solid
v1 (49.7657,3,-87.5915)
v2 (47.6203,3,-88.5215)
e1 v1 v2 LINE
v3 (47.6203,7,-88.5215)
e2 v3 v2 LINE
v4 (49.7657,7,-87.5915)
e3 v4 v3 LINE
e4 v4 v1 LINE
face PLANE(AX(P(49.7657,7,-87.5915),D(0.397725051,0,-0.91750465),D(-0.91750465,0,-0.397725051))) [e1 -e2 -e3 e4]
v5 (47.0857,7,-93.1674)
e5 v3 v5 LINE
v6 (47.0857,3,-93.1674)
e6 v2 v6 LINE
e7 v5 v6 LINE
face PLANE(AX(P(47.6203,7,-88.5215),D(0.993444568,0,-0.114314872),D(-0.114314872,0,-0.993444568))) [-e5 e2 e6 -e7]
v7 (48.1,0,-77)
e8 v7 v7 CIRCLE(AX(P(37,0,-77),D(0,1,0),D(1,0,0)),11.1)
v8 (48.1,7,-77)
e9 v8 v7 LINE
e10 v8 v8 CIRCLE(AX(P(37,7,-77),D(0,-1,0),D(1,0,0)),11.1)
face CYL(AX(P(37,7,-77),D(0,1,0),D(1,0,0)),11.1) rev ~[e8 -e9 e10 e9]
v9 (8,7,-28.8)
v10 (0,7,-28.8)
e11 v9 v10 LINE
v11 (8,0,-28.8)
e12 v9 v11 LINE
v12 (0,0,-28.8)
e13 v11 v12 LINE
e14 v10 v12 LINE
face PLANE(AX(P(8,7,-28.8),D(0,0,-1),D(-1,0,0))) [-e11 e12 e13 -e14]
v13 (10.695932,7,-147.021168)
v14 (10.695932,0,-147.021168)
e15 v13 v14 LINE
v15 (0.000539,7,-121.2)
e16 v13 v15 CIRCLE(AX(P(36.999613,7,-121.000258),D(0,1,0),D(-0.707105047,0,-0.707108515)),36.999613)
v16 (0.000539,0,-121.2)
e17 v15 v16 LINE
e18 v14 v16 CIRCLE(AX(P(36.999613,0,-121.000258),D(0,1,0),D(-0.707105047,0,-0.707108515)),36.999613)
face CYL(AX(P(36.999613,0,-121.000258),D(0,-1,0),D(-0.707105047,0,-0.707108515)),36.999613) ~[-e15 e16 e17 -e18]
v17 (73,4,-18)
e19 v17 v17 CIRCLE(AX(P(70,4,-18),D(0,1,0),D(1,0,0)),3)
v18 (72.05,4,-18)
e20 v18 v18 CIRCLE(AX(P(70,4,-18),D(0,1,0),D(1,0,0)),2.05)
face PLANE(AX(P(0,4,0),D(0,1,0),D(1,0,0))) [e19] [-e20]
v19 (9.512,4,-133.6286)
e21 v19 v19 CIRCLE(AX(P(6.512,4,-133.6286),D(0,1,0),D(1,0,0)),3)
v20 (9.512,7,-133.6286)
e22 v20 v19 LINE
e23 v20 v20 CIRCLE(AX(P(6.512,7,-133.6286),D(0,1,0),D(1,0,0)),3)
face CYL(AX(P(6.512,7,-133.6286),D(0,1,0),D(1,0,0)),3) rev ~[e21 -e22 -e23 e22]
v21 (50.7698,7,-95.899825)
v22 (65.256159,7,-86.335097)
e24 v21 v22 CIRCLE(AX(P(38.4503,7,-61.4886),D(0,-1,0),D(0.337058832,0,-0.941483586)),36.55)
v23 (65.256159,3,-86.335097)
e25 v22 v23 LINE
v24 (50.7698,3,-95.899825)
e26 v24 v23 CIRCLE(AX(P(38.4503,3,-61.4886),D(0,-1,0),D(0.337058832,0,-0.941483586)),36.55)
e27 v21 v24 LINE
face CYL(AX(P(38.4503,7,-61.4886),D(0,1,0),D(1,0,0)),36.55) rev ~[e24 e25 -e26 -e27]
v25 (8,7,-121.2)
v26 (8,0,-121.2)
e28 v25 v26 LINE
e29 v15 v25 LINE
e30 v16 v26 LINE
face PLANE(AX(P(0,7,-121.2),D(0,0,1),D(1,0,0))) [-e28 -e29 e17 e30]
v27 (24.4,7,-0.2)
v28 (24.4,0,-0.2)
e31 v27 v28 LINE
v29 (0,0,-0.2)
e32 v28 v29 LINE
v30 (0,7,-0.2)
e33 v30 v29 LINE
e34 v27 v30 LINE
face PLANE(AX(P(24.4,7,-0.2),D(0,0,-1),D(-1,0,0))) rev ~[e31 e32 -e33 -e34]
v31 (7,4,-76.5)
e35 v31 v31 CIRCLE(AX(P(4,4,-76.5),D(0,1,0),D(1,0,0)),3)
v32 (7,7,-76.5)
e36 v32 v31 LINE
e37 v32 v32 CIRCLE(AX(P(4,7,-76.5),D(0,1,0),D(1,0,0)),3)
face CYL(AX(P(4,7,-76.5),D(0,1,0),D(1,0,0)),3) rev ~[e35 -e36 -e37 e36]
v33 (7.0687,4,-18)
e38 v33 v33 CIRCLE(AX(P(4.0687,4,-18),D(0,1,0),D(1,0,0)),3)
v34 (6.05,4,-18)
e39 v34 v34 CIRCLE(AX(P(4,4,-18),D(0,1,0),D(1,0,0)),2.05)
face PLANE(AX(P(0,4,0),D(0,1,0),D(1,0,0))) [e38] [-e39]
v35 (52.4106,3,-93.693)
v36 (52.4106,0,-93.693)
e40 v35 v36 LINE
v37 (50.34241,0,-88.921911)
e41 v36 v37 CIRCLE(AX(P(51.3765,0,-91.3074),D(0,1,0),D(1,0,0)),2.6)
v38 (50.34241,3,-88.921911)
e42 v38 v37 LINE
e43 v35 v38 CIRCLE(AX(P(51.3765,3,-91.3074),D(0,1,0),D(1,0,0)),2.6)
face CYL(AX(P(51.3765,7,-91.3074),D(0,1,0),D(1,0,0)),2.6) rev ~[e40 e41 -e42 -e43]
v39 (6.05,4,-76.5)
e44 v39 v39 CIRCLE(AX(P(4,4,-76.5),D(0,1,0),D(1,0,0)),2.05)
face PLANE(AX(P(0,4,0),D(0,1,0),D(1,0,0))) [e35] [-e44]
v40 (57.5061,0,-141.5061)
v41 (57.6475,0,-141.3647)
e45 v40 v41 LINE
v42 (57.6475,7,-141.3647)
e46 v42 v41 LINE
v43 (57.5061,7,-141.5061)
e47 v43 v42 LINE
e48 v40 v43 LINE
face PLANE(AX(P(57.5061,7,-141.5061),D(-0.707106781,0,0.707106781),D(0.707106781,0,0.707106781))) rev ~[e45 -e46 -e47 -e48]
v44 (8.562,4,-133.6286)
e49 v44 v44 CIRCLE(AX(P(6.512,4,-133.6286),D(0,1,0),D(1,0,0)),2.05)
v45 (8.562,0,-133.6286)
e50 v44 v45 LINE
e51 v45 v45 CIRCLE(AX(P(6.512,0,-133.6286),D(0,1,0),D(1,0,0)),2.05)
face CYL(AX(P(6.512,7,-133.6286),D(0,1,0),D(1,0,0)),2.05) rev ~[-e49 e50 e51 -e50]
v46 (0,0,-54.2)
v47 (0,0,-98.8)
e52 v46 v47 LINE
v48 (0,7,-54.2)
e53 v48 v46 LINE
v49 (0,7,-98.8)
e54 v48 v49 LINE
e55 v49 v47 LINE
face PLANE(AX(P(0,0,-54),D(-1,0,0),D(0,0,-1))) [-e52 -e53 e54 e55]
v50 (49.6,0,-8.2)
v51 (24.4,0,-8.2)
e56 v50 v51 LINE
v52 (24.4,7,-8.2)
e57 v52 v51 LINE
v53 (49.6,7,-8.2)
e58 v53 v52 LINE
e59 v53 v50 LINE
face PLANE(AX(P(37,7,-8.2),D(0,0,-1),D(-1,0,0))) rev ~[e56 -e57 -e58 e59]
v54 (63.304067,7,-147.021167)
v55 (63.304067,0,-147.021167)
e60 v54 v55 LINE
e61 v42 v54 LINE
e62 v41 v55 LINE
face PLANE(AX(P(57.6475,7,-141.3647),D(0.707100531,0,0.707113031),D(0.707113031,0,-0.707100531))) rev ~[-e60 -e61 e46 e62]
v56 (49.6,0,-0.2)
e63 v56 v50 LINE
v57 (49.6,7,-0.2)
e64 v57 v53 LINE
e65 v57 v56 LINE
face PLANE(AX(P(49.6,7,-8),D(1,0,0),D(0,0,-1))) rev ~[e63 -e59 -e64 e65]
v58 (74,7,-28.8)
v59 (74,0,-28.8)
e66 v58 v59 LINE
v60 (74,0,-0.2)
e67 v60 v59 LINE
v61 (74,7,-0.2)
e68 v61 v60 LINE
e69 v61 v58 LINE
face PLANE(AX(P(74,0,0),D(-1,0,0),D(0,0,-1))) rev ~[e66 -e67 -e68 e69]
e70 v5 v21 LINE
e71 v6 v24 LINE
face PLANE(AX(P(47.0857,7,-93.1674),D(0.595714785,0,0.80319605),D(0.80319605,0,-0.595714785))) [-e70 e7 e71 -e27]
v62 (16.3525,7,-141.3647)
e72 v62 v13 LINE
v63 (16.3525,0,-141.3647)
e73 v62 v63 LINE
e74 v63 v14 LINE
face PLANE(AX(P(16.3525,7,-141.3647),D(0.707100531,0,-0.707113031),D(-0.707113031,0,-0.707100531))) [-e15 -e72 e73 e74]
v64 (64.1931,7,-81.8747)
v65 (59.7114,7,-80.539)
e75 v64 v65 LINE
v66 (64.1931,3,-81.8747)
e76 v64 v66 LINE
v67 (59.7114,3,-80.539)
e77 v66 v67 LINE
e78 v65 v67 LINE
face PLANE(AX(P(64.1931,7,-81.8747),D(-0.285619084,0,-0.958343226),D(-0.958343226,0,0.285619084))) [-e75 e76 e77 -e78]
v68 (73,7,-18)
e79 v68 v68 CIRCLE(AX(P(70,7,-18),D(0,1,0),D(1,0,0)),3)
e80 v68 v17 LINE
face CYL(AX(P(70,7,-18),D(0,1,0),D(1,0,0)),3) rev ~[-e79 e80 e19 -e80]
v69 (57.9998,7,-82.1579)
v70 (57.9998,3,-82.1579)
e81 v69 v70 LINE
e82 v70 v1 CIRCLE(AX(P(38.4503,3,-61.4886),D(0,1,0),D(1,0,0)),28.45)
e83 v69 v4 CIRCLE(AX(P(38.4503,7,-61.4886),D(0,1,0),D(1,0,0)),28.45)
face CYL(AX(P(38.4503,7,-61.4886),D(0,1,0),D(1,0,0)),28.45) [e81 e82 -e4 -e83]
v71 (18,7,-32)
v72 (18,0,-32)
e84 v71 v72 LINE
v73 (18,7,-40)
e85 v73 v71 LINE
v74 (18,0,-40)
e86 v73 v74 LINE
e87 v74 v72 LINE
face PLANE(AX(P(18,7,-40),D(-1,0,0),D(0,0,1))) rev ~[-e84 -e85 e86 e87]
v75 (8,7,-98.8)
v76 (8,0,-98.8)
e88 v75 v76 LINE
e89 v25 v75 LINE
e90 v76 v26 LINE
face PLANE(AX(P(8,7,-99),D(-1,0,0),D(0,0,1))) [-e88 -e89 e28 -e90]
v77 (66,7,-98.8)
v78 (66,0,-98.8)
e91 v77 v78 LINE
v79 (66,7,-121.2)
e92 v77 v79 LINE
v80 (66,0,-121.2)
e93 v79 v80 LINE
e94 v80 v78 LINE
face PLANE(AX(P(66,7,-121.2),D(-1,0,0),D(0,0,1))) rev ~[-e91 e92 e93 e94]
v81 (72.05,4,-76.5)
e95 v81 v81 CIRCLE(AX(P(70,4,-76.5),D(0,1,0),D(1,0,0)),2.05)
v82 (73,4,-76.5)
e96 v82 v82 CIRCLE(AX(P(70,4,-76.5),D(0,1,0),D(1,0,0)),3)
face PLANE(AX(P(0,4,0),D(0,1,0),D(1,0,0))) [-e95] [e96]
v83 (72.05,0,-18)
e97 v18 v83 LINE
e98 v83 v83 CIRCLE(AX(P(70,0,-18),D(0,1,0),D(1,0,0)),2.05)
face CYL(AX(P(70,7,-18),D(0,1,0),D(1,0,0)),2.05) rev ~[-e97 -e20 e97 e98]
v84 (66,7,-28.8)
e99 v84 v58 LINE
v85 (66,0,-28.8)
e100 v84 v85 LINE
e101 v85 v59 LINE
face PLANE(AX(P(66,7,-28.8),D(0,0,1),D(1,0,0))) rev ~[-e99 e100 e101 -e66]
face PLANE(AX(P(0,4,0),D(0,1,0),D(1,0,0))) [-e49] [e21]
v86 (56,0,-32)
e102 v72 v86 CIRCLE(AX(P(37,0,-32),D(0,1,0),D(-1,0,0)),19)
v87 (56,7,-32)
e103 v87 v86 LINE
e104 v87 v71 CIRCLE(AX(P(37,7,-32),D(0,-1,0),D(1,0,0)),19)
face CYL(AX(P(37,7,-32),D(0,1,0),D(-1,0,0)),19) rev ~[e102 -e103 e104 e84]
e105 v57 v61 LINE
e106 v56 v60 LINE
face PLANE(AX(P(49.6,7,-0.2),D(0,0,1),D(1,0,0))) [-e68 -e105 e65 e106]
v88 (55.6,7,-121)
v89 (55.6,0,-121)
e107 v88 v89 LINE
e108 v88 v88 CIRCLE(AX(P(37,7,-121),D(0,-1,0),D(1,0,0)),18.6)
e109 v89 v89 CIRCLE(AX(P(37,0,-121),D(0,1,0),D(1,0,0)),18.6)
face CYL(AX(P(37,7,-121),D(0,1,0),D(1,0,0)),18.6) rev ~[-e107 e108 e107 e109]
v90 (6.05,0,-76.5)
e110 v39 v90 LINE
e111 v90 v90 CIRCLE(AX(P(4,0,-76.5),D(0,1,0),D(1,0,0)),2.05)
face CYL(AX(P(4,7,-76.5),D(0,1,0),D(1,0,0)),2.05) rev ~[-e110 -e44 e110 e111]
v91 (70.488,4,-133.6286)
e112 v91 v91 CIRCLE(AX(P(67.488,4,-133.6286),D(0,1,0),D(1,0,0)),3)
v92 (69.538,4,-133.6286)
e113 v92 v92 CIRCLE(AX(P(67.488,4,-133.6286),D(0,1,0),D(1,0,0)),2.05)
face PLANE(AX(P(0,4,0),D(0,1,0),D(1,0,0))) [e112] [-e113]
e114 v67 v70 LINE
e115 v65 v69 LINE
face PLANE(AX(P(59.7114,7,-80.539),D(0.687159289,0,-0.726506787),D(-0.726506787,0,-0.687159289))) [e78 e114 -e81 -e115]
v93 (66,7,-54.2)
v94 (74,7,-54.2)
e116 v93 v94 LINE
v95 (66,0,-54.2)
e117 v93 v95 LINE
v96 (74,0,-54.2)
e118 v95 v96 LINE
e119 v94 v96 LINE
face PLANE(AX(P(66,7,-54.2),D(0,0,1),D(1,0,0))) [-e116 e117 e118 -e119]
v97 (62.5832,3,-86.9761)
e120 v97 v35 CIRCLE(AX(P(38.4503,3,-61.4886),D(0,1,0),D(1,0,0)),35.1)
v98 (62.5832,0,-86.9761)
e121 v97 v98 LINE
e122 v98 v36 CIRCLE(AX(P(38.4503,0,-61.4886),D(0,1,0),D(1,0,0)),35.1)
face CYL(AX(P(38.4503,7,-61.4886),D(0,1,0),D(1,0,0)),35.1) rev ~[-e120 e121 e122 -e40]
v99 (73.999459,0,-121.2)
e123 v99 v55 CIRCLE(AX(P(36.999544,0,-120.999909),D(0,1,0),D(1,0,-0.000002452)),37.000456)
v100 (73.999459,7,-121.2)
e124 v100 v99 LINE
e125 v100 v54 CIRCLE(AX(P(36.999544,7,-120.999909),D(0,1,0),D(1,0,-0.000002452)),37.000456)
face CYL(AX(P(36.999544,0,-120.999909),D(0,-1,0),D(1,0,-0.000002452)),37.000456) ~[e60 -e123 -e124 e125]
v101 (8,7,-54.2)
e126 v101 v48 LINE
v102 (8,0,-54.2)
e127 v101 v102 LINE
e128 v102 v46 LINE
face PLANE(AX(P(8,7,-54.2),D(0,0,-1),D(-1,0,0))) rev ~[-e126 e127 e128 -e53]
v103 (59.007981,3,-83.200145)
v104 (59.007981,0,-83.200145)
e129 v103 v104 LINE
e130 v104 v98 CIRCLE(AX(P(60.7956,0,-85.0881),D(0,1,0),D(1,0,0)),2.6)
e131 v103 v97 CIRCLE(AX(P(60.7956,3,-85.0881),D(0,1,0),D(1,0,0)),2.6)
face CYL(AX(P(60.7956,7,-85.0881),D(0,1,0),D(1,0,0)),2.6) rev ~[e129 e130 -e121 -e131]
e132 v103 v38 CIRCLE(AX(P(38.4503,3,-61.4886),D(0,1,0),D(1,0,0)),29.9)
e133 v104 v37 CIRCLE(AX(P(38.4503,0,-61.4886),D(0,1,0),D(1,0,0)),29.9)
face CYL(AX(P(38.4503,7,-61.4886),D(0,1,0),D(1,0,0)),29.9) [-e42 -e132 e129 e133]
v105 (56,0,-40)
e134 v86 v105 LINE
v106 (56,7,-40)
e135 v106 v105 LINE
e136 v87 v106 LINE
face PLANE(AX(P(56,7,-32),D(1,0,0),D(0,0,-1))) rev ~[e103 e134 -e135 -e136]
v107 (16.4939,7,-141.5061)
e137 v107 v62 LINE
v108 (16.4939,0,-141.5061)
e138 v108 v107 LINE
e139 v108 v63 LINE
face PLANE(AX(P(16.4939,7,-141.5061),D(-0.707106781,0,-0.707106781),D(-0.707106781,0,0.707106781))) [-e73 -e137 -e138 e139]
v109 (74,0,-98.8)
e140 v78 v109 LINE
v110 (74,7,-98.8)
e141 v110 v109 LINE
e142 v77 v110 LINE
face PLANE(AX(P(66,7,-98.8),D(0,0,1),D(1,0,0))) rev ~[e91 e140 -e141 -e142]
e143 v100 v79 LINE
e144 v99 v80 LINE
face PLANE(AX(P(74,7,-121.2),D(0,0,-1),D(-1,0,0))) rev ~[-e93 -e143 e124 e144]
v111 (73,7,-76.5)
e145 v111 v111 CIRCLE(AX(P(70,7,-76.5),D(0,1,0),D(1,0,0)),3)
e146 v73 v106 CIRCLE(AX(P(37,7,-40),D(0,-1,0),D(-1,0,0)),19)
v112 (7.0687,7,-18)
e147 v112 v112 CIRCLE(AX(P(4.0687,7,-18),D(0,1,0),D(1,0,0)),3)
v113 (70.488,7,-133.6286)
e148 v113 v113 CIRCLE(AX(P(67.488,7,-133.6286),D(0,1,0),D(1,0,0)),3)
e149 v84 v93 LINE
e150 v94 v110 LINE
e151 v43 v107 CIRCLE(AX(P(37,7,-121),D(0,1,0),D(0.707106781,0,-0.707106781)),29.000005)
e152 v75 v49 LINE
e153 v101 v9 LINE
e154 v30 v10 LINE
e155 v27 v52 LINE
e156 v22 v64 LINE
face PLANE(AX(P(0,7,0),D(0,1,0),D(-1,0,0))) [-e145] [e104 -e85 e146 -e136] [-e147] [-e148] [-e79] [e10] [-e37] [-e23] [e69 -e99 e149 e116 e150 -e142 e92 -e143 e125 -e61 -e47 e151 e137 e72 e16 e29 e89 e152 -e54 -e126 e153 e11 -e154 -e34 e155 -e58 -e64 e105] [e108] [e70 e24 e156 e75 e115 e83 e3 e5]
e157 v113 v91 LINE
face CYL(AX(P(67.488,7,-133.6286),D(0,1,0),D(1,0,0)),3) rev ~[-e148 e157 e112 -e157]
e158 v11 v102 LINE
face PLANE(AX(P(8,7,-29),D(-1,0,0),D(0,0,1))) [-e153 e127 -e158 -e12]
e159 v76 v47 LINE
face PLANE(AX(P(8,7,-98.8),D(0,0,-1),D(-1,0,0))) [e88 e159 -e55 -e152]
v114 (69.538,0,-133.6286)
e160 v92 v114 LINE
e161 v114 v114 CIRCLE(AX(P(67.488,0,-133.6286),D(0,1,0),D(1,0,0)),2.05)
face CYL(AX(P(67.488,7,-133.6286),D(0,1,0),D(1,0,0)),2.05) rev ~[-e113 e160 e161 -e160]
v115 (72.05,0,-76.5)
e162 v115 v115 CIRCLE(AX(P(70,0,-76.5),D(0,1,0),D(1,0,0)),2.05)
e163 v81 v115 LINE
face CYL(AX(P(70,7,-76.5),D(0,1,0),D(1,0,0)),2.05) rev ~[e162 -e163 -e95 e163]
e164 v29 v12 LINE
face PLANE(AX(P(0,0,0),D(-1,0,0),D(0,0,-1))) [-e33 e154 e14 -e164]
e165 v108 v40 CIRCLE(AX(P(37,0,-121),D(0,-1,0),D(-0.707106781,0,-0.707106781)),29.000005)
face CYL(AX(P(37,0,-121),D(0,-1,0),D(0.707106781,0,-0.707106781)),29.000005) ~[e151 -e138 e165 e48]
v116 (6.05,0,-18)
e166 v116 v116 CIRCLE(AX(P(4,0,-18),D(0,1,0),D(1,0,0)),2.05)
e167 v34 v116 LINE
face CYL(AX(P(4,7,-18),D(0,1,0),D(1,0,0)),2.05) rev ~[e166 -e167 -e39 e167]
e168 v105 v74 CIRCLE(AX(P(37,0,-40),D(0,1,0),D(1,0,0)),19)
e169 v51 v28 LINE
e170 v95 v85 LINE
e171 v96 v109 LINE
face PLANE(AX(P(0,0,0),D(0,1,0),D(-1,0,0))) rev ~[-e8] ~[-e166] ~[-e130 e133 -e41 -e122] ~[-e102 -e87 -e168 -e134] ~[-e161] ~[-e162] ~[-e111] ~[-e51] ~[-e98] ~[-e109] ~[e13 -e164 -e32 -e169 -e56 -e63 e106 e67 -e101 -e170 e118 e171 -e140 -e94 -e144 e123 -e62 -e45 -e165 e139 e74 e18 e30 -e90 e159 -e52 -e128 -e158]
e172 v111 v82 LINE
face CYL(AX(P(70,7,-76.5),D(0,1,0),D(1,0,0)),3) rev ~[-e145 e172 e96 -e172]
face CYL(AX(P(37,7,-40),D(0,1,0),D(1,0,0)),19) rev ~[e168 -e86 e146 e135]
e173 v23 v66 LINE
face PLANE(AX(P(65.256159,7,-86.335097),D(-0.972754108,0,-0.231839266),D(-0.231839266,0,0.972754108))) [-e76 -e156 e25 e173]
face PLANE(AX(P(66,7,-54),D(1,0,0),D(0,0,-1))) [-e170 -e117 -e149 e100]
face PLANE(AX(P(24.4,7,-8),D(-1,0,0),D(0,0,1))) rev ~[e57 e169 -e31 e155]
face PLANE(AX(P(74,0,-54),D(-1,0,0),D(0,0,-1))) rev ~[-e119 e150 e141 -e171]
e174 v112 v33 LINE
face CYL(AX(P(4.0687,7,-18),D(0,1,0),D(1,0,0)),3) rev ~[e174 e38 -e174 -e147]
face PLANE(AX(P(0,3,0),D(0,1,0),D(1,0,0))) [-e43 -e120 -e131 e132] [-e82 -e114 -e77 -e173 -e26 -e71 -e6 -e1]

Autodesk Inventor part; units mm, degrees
ref_plane "YZ Plane" through (0, 0, 0) normal (1, 0, 0) x (0, 1, 0)
ref_plane "XZ Plane" through (0, 0, 0) normal (0, 1, 0) x (-1, 0, 0)
ref_plane "XY Plane" through (0, 0, 0) normal (0, 0, 1) x (1, 0, 0)
sketch "Boceto1" plane through (0, 0, 0) normal (0, 1, 0) x (-1, 0, 0)
  line L0 (0, 0) -> (-24.6, 0)
  line L1 (0, 0) -> (0, -29)
  line L2 (0, -29) -> (-8, -29)
  line L3 (-8, -29) -> (-8, -54)
  line L4 (-8, -54) -> (0, -54)
  line L5 (0, -54) -> (0, -99)
  line L6 (0, -99) -> (-8, -99)
  line L7 (-8, -99) -> (-8, -121)
  line L8 (-8, -121) -> (0, -121)
  line L9 (-24.6, 0) -> (-24.6, -8)
  line L10 (-24.6, -8) -> (-49.4, -8)
  line L11 (-37, 21.7087) -> (-37, -150)
  arc A0 (-57.5061, -141.5061) -> (-16.4939, -141.5061) centre (-37, -121) ccw
  line L12 (-37, -121) -> (-16.4939, -141.5061)
  line L13 (-16.4939, -141.5061) -> (-10.837, -147.163)
  line L14 (-74, 0) -> (-49.4, 0)
  line L15 (-74, 0) -> (-74, -29)
  line L16 (-74, -29) -> (-66, -29)
  line L17 (-66, -29) -> (-66, -54)
  line L18 (-66, -54) -> (-74, -54)
  line L19 (-74, -54) -> (-74, -99)
  line L20 (-74, -99) -> (-66, -99)
  line L21 (-66, -99) -> (-66, -121)
  line L22 (-66, -121) -> (-74, -121)
  line L23 (-49.4, 0) -> (-49.4, -8)
  line L24 (-37, -121) -> (-57.5061, -141.5061)
  line L25 (-57.5061, -141.5061) -> (-63.163, -147.163)
  arc A1 (-74, -121) -> (-63.163, -147.163) centre (-37, -121) ccw
  arc A2 (-10.837, -147.163) -> (0, -121) centre (-37, -121) ccw
  dimension "d139" = 24.6
  dimension "d140" = 29
  dimension "d141" = 25
  dimension "d142" = 8
  dimension "d143" = 45
  dimension "d144" = 22
  dimension "d145" = 8
  dimension "d146" = 24.8
  dimension "d148" = 45
extrude "Extrusión1" add sketch "Boceto1" along normal blind 7
sketch "Boceto2" plane through (0, 7, 0) normal (0, 1, 0) x (1, 0, 0)
  arc A0 (18, 32) -> (56, 32) centre (37, 32) ccw
  arc A1 (56, 40) -> (18, 40) centre (37, 40) ccw
  line L0 (18, 40) -> (18, 32)
  line L1 (56, 32) -> (56, 40)
  circle A2 centre (37, 77) radius 11.1
  circle A3 centre (37, 121) radius 18.6
  line L2 (37, -3.2334) -> (37, 158.5758)
  point P0 (0, 0)
  dimension "d18" = 19
  dimension "d23" = 22.2
  dimension "d25" = 37.2
  dimension "d149" = 44
  dimension "d150" = 37
  dimension "d151" = 8
extrude "Extrusión2" cut sketch "Boceto2" against normal blind 7
sketch "Boceto3" plane through (0, 7, 0) normal (0, 1, 0) x (1, 0, 0)
  line L0 (37, -12.6618) -> (37, 178.5268)
  circle A0 centre (4, 18) radius 2.05
  circle A1 centre (4, 76.5) radius 2.05
  circle A2 centre (37, 121) radius 18.6 projected
  circle A3 centre (37, 121) radius 33
  circle A4 centre (6.512, 133.6286) radius 2.05
  line L1 (8, 29) -> (0, 29) projected
  line L2 (0, 29) -> (0, 0) projected
  line L3 (0, 99) -> (0, 54) projected
  line L4 (8, 99) -> (0, 99) projected
  line L5 (6.512, 133.6286) -> (37, 121)
  line L6 (24.8695, 121) -> (50.3921, 121)
  circle A5 centre (70, 18) radius 2.05
  circle A6 centre (70, 76.5) radius 2.05
  circle A7 centre (67.488, 133.6286) radius 2.05
  line L7 (67.488, 133.6286) -> (37, 121)
  dimension "d157" = 66
  dimension "d152" = 11
  dimension "d153" = 4
  dimension "d154" = 4.1
  dimension "d155" = 4
  dimension "d156" = 22.5
  dimension "d158" = 22.5
extrude "Extrusión3" cut sketch "Boceto3" against normal through all contours A4 A3 | A3 L5 A4 | A3 A4 L5 | A7 L7 A3 | A3 A7 | L7 A7 A3 | A0 | A1 | A5 | A6
sketch "Boceto12" plane through (0, 7, 0) normal (0, 1, 0) x (1, 0, 0)
  circle A0 centre (37, 77) radius 11.1 projected
  circle A1 centre (37, 121) radius 18.6 projected
  arc A2 (60.7956, 85.0881) -> (51.3765, 91.3074) centre (38.4503, 61.4886) ccw
  line L0 (38.4503, 61.4886) -> (60.7956, 85.0881)
  line L1 (38.4503, 61.4886) -> (51.3765, 91.3074)
  line L2 (51.3765, 91.3074) -> (52.4106, 93.693)
  line L3 (60.7956, 85.0881) -> (62.5832, 86.9761)
  line L4 (38.4503, 61.4886) -> (51.3765, 91.3074)
  line L5 (50.3411, 88.9225) -> (50.3424, 88.9219)
  line L6 (59.009, 83.1992) -> (59.008, 83.2002)
  circle A3 centre (51.3765, 91.3074) radius 2.6
  circle A4 centre (60.7956, 85.0881) radius 2.6
  circle A5 centre (38.4503, 61.4886) radius 29.9
  circle A6 centre (38.4503, 61.4886) radius 35.1
  point P0 (0, 0)
  point P1 (59.009, 83.1992)
  dimension "d101" = 0
  dimension "d102" = 20
  dimension "d91" = 65
  dimension "d173" = 5.2
  dimension "d174" = 5.2
extrude "Extrusión10" cut sketch "Boceto12" against normal through all contours A3 L2 L1 | L1 A2 A3 | A3 A2 A4 A5 | L2 A3 A2 | A6 A4 A2 A3 | A4 A2 L0 | L0 L3 A4 | L3 A2 A4
sketch "Boceto13" plane through (0, 7, 0) normal (0, 1, 0) x (1, 0, 0)
  line L0 (47.0857, 93.1674) -> (50.8419, 95.9533)
  line L1 (50.8419, 95.9533) -> (52.9888, 95.0227)
  line L2 (49.7657, 87.5915) -> (47.6203, 88.5215)
  line L3 (47.6203, 88.5215) -> (47.0857, 93.1674)
  line L4 (59.7114, 80.539) -> (57.9998, 82.1579)
  line L5 (63.5861, 88.0233) -> (65.2773, 86.4238)
  line L6 (65.2773, 86.4238) -> (64.1931, 81.8747)
  line L7 (64.1931, 81.8747) -> (59.7114, 80.539)
  circle A0 centre (38.4503, 61.4886) radius 28.45
  circle A1 centre (38.4503, 61.4886) radius 36.55
  point P0 (0, 0)
  point P1 (51.3765, 91.3074)
  point P2 (60.7956, 85.0881)
  point P3 (60.7956, 85.0881)
  point P4 (51.3765, 91.3074)
  point P5 (51.3765, 91.3074)
  point P6 (51.3765, 91.3074)
  point P7 (60.7956, 85.0881)
  point P8 (65.2562, 86.3351)
  point P9 (50.7698, 95.8998)
  dimension "d172" = 8.1
extrude "Extrusión11" cut sketch "Boceto13" against normal blind 4 contours L0 A1 L6 L7 L4 A0 L2 L3 picked at (62.116, 83.8351)
sketch "Boceto15" plane through (0, 7, 0) normal (0, 1, 0) x (1, 0, 0)
  circle A0 centre (4.0687, 18) radius 3
  circle A1 centre (4, 76.5) radius 2.05 projected
  circle A2 centre (4, 76.5) radius 3
  circle A3 centre (6.512, 133.6286) radius 2.05 projected
  circle A4 centre (6.512, 133.6286) radius 3
  circle A5 centre (67.488, 133.6286) radius 2.05 projected
  circle A6 centre (67.488, 133.6286) radius 3
  circle A7 centre (70, 76.5) radius 2.05 projected
  circle A8 centre (70, 76.5) radius 3
  circle A9 centre (70, 18) radius 2.05 projected
  circle A10 centre (70, 18) radius 3
  point P0 (0, 0)
  dimension "d159" = 6
  dimension "d160" = 6
  dimension "d161" = 6
  dimension "d162" = 6
  dimension "d163" = 6
  dimension "d164" = 6
extrude "Extrusión12" cut sketch "Boceto15" against normal blind 3 contours A0 | A1 | A2 | A3 | A4 | A5 | A6 | A7 | A8 | A9 | A10
sketch "Boceto16" plane through (0, 7, 0) normal (0, 1, 0) x (1, 0, 0)
  line L0 (0, 29) -> (0, 0) projected
  line L1 (0, 29) -> (8, 29)
  line L2 (8, 29) -> (8, 28.8)
  line L3 (8, 28.8) -> (0, 28.8)
  line L4 (0, 28.8) -> (0, 29)
  line L5 (0, 54) -> (8, 54) projected
  line L6 (0, 54) -> (8, 54)
  line L7 (8, 54) -> (8, 54.2)
  line L8 (8, 54.2) -> (0, 54.2)
  line L9 (0, 54.2) -> (0, 54)
  line L10 (8, 99) -> (0, 99) projected
  line L11 (0, 99) -> (8, 99)
  line L12 (8, 99) -> (8, 98.8)
  line L13 (8, 98.8) -> (0, 98.8)
  line L14 (0, 98.8) -> (0, 99)
  line L15 (8, 121) -> (8, 99) projected
  line L16 (8, 121) -> (0, 121)
  line L17 (0, 121) -> (0, 121.2)
  line L18 (0, 121.2) -> (8, 121.2)
  line L19 (8, 121.2) -> (8, 121)
  line L20 (16.4939, 141.5061) -> (10.837, 147.163) projected
  line L21 (16.4939, 141.5061) -> (16.3525, 141.3647)
  line L22 (16.3525, 141.3647) -> (10.6956, 147.0215)
  line L23 (10.6956, 147.0215) -> (10.837, 147.163)
  line L24 (24.6, 0) -> (24.6, 8) projected
  line L25 (0, 0) -> (24.6, 0)
  line L26 (24.6, 0) -> (24.6, 0.2)
  line L27 (24.6, 0.2) -> (0, 0.2)
  line L28 (0, 0.2) -> (0, 0)
  line L29 (24.6, 8) -> (49.4, 8) projected
  line L30 (24.6, 8) -> (24.4, 8)
  line L31 (24.4, 8) -> (24.4, 0)
  line L32 (24.4, 0) -> (24.6, 0)
  line L33 (24.6, 0) -> (24.6, 8)
  line L34 (37, -18.4316) -> (37, 165.7514)
  line L35 (74, 29) -> (74, 0)
  line L36 (74, 29) -> (66, 29)
  line L37 (66, 29) -> (66, 28.8)
  line L38 (66, 28.8) -> (74, 28.8)
  line L39 (74, 28.8) -> (74, 29)
  line L40 (74, 54) -> (66, 54)
  line L41 (74, 54) -> (66, 54)
  line L42 (66, 54) -> (66, 54.2)
  line L43 (66, 54.2) -> (74, 54.2)
  line L44 (74, 54.2) -> (74, 54)
  line L45 (66, 99) -> (74, 99)
  line L46 (74, 99) -> (66, 99)
  line L47 (66, 99) -> (66, 98.8)
  line L48 (66, 98.8) -> (74, 98.8)
  line L49 (74, 98.8) -> (74, 99)
  line L50 (66, 121) -> (66, 99)
  line L51 (66, 121) -> (74, 121)
  line L52 (74, 121) -> (74, 121.2)
  line L53 (74, 121.2) -> (66, 121.2)
  line L54 (66, 121.2) -> (66, 121)
  line L55 (57.5061, 141.5061) -> (63.163, 147.163)
  line L56 (57.5061, 141.5061) -> (57.6475, 141.3647)
  line L57 (57.6475, 141.3647) -> (63.3044, 147.0215)
  line L58 (63.3044, 147.0215) -> (63.163, 147.163)
  line L59 (49.4, 0) -> (49.4, 8)
  line L60 (74, 0) -> (49.4, 0)
  line L61 (49.4, 0) -> (49.4, 0.2)
  line L62 (49.4, 0.2) -> (74, 0.2)
  line L63 (74, 0.2) -> (74, 0)
  line L64 (49.4, 8) -> (49.6, 8)
  line L65 (49.6, 8) -> (49.6, 0)
  line L66 (49.6, 0) -> (49.4, 0)
  line L67 (49.4, 0) -> (49.4, 8)
  line L68 (24.4, 8) -> (49.6, 8)
  line L69 (49.6, 8) -> (49.6, 8.2)
  line L70 (49.6, 8.2) -> (24.4, 8.2)
  line L71 (24.4, 8.2) -> (24.4, 8)
  point P0 (24.4, 0.2)
  point P1 (0, 0.2)
  point P2 (49.6, 0.2)
  dimension "d166" = 8
  dimension "d167" = 0.2
  dimension "d168" = 0.2
  dimension "d169" = 0.2
extrude "Extrusión13" cut sketch "Boceto16" against normal through all
properties part number "Primer segmento - inferior v1.2" material "Plastico PETG"
